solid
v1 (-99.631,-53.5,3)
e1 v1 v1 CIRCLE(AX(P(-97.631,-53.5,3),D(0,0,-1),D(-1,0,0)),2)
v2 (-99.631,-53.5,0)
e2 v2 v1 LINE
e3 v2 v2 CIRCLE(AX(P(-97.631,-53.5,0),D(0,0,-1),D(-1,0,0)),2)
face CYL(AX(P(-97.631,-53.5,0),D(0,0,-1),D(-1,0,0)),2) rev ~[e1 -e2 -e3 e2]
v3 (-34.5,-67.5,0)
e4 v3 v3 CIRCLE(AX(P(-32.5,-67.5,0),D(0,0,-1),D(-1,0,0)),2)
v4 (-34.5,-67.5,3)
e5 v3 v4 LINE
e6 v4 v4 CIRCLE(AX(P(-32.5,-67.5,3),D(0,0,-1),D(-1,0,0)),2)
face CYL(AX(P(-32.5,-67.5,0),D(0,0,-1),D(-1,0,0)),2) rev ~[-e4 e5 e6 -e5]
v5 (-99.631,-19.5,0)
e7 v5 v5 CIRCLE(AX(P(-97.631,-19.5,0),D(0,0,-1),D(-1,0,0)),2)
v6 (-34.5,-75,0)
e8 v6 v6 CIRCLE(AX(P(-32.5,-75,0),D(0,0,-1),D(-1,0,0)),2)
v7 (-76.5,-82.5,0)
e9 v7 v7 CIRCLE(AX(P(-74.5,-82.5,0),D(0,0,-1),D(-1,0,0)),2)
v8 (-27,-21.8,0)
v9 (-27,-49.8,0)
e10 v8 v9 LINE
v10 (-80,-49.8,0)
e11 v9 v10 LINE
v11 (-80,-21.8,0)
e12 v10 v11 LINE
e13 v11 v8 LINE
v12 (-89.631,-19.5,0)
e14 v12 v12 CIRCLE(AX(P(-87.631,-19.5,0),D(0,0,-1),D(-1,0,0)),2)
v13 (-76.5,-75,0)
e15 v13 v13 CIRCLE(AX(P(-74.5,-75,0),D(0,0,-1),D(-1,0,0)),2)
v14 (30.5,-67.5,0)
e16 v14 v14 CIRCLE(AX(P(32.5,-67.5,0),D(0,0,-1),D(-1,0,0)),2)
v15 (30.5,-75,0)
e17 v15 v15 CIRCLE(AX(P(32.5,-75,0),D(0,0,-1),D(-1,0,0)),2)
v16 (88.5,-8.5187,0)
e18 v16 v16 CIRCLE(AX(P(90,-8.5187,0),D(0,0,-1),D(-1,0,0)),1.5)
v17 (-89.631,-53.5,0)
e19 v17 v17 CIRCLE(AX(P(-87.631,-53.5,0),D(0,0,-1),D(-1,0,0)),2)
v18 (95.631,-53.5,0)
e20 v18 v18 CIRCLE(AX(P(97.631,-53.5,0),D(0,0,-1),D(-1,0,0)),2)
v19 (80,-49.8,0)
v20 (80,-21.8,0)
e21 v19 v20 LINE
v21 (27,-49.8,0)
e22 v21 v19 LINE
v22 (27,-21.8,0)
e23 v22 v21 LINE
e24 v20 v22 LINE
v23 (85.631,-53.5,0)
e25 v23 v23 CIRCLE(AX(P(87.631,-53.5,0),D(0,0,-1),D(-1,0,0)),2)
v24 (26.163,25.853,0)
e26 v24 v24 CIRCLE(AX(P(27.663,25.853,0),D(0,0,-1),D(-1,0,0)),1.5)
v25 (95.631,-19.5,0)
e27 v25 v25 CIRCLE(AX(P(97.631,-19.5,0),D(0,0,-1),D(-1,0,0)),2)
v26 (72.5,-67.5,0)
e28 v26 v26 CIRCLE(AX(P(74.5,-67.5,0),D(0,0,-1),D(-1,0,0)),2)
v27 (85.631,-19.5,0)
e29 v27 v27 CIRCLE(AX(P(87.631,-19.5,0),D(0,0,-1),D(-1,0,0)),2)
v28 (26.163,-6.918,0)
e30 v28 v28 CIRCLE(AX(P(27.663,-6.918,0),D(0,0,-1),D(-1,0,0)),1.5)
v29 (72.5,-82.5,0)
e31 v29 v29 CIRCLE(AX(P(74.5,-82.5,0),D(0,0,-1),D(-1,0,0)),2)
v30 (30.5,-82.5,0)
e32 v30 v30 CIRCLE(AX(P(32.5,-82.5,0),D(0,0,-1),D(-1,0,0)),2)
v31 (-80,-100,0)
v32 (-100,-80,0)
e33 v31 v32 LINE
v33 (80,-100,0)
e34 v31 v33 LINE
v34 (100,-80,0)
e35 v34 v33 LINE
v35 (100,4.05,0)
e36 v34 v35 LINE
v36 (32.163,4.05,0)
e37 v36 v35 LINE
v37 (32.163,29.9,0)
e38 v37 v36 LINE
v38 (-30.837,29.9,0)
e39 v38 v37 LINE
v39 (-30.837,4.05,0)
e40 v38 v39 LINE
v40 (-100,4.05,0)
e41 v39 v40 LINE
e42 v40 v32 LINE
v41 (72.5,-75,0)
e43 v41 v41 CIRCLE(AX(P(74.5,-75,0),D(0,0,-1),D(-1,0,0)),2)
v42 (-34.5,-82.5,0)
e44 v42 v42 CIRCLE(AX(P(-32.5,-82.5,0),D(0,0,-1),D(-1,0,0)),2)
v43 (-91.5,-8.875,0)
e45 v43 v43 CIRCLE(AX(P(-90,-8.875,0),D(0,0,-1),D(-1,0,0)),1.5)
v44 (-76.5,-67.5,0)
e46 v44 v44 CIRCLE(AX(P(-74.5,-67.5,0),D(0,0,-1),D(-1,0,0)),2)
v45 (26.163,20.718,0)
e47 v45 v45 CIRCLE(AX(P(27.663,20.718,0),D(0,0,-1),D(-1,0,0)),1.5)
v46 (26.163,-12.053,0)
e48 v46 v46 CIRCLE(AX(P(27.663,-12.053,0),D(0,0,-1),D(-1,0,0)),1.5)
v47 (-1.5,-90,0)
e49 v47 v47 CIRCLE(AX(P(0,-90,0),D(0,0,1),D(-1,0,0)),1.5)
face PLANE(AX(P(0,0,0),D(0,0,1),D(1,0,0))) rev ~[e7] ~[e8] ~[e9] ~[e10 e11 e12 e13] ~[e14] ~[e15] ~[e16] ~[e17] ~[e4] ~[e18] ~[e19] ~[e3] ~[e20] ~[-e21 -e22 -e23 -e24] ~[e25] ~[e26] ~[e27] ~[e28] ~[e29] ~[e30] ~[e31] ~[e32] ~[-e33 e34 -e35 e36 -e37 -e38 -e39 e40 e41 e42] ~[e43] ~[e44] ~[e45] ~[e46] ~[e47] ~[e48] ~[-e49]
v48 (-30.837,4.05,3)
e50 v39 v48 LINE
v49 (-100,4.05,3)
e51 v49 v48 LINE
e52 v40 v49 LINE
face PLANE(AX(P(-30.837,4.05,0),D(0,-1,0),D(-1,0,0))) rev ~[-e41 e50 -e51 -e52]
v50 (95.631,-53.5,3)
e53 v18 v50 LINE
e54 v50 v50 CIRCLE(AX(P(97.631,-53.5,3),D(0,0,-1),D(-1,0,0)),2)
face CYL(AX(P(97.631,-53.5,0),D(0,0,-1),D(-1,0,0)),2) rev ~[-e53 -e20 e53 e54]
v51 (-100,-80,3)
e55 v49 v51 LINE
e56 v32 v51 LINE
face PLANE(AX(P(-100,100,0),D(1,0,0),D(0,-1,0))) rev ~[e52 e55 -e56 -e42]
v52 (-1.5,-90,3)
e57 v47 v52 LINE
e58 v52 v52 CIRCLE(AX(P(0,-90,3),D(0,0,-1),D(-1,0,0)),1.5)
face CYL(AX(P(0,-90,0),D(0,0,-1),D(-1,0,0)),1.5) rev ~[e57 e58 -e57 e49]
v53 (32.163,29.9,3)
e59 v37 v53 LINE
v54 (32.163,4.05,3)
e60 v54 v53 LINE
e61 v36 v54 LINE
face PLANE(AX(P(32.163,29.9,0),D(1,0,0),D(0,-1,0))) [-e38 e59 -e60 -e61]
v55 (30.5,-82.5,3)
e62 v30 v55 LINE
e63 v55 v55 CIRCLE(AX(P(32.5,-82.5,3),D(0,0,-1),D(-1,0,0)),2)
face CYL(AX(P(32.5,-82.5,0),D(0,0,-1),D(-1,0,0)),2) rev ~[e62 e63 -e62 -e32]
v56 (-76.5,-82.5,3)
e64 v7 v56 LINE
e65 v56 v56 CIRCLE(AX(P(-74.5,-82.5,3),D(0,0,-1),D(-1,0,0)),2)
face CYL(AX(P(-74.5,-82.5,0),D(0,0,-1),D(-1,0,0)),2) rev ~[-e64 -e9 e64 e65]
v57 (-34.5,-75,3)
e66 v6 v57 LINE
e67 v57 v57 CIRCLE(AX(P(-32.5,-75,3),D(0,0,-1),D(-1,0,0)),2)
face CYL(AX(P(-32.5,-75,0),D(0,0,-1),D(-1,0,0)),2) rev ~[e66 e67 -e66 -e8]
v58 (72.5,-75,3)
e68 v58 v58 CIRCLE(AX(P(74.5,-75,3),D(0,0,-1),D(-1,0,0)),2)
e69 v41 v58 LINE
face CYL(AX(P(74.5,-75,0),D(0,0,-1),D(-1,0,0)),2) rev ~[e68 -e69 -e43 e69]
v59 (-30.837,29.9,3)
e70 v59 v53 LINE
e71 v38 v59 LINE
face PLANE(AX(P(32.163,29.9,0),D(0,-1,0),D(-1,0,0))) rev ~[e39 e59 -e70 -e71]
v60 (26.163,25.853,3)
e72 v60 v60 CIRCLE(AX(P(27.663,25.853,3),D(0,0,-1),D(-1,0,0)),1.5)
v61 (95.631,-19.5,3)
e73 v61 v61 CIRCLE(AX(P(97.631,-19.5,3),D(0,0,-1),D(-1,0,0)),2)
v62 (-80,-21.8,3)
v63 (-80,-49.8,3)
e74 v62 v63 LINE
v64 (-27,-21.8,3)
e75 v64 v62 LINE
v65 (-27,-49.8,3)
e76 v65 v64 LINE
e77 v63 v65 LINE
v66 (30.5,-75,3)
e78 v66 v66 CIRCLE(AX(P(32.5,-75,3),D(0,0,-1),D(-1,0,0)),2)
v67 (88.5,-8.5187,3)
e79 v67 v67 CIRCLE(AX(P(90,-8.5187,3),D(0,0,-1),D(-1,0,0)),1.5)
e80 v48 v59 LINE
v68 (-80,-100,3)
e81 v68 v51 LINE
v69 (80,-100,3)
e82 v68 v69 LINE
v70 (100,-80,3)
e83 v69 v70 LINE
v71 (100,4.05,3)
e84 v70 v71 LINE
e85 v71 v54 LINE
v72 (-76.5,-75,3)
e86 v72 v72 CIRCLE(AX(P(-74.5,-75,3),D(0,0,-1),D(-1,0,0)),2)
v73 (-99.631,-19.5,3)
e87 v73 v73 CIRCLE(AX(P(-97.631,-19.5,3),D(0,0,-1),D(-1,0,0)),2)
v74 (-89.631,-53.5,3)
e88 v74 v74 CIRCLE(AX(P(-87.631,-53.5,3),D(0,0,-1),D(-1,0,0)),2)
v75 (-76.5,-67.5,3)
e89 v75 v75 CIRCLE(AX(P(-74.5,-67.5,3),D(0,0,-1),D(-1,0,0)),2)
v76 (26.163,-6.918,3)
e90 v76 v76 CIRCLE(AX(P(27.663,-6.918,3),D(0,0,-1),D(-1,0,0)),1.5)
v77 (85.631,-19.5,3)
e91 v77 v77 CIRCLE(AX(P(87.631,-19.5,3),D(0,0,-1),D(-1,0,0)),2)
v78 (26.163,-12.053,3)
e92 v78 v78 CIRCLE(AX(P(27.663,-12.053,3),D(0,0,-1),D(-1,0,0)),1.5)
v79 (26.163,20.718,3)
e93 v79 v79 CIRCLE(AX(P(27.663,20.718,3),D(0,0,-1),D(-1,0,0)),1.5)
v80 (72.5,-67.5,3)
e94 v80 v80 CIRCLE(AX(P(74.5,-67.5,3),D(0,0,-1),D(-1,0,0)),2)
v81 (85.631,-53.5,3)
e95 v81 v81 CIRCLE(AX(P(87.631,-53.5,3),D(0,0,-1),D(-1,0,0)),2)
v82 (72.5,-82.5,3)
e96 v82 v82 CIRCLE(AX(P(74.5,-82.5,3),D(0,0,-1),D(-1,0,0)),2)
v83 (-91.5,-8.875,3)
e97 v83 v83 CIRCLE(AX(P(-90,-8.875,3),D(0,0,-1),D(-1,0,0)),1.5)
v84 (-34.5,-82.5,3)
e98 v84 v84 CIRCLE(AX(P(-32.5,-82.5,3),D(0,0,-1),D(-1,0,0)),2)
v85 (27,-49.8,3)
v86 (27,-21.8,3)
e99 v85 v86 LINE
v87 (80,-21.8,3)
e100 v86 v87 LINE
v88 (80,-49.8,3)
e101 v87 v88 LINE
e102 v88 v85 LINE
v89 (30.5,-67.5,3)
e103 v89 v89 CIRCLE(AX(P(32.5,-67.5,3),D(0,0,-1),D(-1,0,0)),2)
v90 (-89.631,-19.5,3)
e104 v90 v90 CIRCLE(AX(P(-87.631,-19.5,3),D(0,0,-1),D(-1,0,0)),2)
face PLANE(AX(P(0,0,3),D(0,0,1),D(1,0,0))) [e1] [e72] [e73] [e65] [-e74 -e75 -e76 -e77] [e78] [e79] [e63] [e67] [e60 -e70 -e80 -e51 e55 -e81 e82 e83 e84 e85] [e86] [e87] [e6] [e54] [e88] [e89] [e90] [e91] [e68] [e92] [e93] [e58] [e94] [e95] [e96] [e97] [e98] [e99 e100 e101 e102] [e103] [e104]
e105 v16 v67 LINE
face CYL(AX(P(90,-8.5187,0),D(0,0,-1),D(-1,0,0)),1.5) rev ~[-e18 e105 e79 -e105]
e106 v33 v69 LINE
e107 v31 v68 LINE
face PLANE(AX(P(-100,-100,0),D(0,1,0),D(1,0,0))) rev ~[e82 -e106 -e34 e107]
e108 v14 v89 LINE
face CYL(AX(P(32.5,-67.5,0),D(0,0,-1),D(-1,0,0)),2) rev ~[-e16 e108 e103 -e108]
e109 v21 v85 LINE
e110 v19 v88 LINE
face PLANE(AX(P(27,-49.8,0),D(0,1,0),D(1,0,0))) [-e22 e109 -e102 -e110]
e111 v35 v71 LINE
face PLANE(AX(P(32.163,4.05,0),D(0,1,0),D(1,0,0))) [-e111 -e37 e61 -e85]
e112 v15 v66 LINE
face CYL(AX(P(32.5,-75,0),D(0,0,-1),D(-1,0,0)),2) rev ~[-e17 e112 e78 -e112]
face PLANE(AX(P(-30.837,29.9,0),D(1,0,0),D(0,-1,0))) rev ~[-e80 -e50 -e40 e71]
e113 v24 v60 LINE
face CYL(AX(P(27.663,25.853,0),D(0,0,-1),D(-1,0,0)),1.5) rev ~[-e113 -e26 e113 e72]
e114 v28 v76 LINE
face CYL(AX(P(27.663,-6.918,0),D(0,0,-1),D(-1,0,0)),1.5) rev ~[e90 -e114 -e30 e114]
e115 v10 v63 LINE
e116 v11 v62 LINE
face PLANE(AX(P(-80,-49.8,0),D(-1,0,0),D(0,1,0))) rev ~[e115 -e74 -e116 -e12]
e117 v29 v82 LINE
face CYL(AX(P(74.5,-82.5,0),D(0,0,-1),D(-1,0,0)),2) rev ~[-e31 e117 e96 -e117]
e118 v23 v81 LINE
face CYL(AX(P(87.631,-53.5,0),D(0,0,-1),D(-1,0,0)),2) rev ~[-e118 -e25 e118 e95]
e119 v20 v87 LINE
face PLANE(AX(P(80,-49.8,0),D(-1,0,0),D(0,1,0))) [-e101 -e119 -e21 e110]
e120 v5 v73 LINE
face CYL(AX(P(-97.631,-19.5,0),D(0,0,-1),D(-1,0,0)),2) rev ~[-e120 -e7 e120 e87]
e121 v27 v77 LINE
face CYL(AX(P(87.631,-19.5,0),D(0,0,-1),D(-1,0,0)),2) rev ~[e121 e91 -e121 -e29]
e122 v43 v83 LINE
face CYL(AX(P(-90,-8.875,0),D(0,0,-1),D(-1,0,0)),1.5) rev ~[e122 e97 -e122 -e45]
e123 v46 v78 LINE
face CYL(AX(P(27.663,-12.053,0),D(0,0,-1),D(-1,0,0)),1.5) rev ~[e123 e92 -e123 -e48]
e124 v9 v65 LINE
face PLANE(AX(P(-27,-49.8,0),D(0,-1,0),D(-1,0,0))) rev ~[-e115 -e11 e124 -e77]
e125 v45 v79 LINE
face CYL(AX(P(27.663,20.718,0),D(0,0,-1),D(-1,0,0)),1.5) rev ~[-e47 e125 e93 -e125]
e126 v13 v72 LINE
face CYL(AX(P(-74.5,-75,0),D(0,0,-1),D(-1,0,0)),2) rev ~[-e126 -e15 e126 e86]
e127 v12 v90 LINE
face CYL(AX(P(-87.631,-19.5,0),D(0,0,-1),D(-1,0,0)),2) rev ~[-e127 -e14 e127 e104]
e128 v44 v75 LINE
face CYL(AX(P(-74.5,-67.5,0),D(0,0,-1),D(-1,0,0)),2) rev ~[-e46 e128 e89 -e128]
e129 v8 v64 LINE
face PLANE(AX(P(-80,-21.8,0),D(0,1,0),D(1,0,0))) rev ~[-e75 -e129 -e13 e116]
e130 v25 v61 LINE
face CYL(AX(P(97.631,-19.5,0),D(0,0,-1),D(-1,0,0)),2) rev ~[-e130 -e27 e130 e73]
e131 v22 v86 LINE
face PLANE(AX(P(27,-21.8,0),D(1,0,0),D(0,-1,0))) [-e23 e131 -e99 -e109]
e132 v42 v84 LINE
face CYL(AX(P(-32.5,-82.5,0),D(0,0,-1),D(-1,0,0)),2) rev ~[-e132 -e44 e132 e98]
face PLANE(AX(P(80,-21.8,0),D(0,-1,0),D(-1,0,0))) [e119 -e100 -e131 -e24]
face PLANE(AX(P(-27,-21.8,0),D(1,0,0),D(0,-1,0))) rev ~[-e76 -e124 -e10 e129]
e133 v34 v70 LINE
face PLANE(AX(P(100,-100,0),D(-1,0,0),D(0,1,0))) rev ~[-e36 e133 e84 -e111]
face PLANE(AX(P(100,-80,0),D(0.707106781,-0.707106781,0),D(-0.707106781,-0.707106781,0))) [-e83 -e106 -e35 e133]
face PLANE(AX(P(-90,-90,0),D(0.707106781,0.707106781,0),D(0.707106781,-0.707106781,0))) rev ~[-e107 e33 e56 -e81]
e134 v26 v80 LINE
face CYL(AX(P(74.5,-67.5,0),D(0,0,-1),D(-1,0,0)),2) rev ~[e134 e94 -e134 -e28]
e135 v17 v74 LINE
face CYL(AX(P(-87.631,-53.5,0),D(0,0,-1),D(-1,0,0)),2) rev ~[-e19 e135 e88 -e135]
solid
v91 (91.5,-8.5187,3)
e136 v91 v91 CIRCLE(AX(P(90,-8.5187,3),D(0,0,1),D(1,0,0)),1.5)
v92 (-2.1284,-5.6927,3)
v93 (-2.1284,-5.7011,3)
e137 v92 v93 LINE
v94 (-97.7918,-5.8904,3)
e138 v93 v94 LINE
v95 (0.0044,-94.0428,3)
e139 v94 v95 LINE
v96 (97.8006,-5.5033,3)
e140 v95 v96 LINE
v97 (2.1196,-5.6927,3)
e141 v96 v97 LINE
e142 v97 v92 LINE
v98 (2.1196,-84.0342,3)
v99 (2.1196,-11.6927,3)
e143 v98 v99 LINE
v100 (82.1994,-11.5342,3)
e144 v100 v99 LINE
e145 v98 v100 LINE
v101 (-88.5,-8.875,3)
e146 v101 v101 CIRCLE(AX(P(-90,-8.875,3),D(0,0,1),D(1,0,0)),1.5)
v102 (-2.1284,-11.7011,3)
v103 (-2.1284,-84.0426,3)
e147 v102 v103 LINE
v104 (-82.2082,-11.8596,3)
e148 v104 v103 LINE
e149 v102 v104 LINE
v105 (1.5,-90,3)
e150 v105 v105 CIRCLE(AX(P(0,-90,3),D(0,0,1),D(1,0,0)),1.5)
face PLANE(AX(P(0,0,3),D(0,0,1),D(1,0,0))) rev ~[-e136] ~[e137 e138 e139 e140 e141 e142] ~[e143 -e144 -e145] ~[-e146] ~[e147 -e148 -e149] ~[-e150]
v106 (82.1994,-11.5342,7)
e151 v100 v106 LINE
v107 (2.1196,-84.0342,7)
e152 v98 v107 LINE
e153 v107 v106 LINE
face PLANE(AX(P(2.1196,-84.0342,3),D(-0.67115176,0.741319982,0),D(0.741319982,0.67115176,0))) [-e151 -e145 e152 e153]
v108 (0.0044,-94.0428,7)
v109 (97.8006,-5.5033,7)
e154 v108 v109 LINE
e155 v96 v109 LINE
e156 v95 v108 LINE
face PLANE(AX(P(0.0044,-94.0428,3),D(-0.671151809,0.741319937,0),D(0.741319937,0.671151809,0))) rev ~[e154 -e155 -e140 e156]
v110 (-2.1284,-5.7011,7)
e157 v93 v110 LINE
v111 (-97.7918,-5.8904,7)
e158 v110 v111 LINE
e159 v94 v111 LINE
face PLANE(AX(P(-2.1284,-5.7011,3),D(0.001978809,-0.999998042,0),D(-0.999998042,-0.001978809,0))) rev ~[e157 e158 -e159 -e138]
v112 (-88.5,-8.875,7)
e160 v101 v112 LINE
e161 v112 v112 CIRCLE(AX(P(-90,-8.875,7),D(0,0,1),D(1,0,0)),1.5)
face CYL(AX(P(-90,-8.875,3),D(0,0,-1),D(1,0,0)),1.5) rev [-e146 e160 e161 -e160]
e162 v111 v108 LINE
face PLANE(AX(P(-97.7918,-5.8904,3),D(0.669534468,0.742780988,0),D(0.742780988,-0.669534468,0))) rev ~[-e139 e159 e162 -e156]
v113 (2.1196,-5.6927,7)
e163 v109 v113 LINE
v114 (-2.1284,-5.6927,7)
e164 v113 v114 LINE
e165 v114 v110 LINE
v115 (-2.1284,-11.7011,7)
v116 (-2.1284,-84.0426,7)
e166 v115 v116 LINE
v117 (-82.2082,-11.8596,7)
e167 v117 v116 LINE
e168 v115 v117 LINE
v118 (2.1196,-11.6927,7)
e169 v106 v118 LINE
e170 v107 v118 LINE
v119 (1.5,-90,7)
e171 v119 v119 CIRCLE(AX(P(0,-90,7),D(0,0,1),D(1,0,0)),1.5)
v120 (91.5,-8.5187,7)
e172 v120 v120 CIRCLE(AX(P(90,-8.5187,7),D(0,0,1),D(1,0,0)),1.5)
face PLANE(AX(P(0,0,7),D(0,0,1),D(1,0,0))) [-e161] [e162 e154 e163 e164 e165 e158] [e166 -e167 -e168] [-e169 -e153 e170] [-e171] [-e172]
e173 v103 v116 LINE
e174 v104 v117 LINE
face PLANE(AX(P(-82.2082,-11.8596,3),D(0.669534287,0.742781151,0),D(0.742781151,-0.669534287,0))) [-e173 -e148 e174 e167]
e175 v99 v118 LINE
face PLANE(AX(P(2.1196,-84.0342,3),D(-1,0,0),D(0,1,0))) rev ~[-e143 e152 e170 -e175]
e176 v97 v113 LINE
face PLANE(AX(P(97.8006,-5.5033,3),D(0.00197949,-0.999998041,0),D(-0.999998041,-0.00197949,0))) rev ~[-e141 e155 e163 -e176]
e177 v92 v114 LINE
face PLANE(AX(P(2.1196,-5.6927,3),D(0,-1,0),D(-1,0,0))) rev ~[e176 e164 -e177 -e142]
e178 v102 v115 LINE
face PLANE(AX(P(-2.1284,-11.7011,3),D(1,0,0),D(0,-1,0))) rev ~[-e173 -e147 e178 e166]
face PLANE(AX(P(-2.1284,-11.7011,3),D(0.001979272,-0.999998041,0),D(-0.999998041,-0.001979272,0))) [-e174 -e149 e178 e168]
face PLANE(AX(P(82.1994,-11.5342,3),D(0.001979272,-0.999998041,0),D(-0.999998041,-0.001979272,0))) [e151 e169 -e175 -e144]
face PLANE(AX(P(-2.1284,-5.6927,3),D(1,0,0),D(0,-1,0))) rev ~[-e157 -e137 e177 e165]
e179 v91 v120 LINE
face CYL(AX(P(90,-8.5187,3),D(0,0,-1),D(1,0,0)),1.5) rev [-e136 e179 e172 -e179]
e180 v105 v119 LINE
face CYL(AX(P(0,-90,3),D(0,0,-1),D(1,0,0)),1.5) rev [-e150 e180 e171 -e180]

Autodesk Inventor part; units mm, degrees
ref_plane "YZ Plane" through (0, 0, 0) normal (1, 0, 0) x (0, 1, 0)
ref_plane "XZ Plane" through (0, 0, 0) normal (0, 1, 0) x (-1, 0, 0)
ref_plane "XY Plane" through (0, 0, 0) normal (0, 0, 1) x (1, 0, 0)
sketch "Эскиз1" plane through (0, 0, 0) normal (0, 0, 1) x (1, 0, 0)
  line L0 (-100, -100) -> (100, -100)
  line L1 (100, -100) -> (100, 100)
  line L2 (100, 100) -> (-100, 100)
  line L3 (-100, 100) -> (-100, -100)
  line L4 (-100, -100) -> (100, 100) construction
  line L5 (100, -100) -> (-100, 100) construction
  point P0 (0, 0)
  dimension "d0" = 200
  dimension "d1" = 200
extrude "Выдавливание1" add sketch "Эскиз1" along normal blind 3
sketch "Эскиз2" plane through (0, 0, 3) normal (0, 0, 1) x (1, 0, 0)
  line L0 (-100, -100) -> (100, -100) projected
  line L1 (100, -100) -> (100, 100) projected
  line L2 (100, 100) -> (-100, 100) projected
  line L3 (-100, 100) -> (-100, -100) projected
  line L4 (-100, 100) -> (-90, 100) construction
  line L5 (-100, -100) -> (100, -100) construction
  line L6 (100, -100) -> (90, -100) construction
  line L7 (-90, 100) -> (-90, 90) construction
  line L8 (100, 100) -> (-100, 100) construction
  line L9 (-90, 100) -> (-80, 100) construction
  line L10 (90, -100) -> (90, -90) construction
  line L11 (-90, 90) -> (90, 90) construction
  line L12 (90, 90) -> (90, -90) construction
  line L13 (90, -90) -> (-90, -90) construction
  line L14 (-90, -90) -> (-90, 90) construction
  point P0 (0, 0)
  dimension "d4" = 10
  dimension "d5" = 10
  dimension "d6" = 10
  dimension "d7" = 270
  dimension "d8" = 10
sketch "Эскиз3" plane through (0, 0, 0) normal (0, 0, -1) x (-1, 0, 0)
  line L0 (-90, -90) -> (90, -90) construction
  line L1 (90, -90) -> (90, 90) construction
  line L2 (90, 90) -> (-90, 90) construction
  line L3 (100, -100) -> (-100, -100) projected
  line L4 (-100, -100) -> (-100, 100) projected
  line L5 (-100, 100) -> (100, 100) projected
  line L6 (100, 100) -> (100, -100) projected
  line L7 (-90, 90) -> (-90, -90) construction
  point P0 (0, 0)
sketch "Эскиз4" plane through (0, 0, 0) normal (0, 0, -1) x (-1, 0, 0)
  line L0 (90, -90) -> (90, 90) construction
  line L1 (-90, -90) -> (90, -90) construction
  line L2 (90, -90) -> (80, -90) construction
  line L3 (80, -90) -> (80, -57.8) construction
  line L4 (80, -57.8) -> (69, -57.8) construction
  line L5 (69, -57.8) -> (69, -90) construction
  line L6 (74.5, -90) -> (74.5, -58.2367) construction
  line L7 (80, -73.9) -> (69, -73.9) construction
  line L8 (74.5, -90) -> (74.5, -82.5) construction
  circle A0 centre (74.5, -82.5) radius 2
  line L9 (74.5, -82.5) -> (74.5, -75) construction
  line L10 (74.5, -75) -> (74.5, -67.5) construction
  circle A1 centre (74.5, -75) radius 2
  circle A2 centre (74.5, -67.5) radius 2
  line L11 (69, -90) -> (38, -90) construction
  line L12 (53.5, -90) -> (53.5, -69.5) construction
  line L13 (27, -90) -> (27, -57.8) construction
  line L14 (27, -57.8) -> (38, -57.8) construction
  line L15 (38, -57.8) -> (38, -90) construction
  line L16 (32.5, -90) -> (32.5, -58.2367) construction
  line L17 (27, -73.9) -> (38, -73.9) construction
  line L18 (32.5, -90) -> (32.5, -82.5) construction
  circle A3 centre (32.5, -82.5) radius 2
  line L19 (32.5, -82.5) -> (32.5, -75) construction
  line L20 (32.5, -75) -> (32.5, -67.5) construction
  circle A4 centre (32.5, -75) radius 2
  circle A5 centre (32.5, -67.5) radius 2
  line L21 (0, 90) -> (0, -90)
  line L22 (-80, -90) -> (-80, -57.8) construction
  line L23 (-80, -57.8) -> (-69, -57.8) construction
  line L24 (-69, -57.8) -> (-69, -90) construction
  line L25 (-74.5, -90) -> (-74.5, -58.2367) construction
  line L26 (-80, -73.9) -> (-69, -73.9) construction
  line L27 (-74.5, -90) -> (-74.5, -82.5) construction
  circle A6 centre (-74.5, -82.5) radius 2
  line L28 (-74.5, -82.5) -> (-74.5, -75) construction
  line L29 (-74.5, -75) -> (-74.5, -67.5) construction
  circle A7 centre (-74.5, -75) radius 2
  circle A8 centre (-74.5, -67.5) radius 2
  line L30 (-69, -90) -> (-38, -90) construction
  line L31 (-53.5, -90) -> (-53.5, -69.5) construction
  line L32 (-27, -90) -> (-27, -57.8) construction
  line L33 (-38, -57.8) -> (-38, -90) construction
  line L34 (-27, -73.9) -> (-38, -73.9) construction
  line L35 (-27, -57.8) -> (-38, -57.8) construction
  line L36 (-32.5, -90) -> (-32.5, -58.2367) construction
  line L37 (-32.5, -90) -> (-32.5, -82.5) construction
  circle A9 centre (-32.5, -82.5) radius 2
  line L38 (-32.5, -82.5) -> (-32.5, -75) construction
  circle A10 centre (-32.5, -75) radius 2
  line L39 (-32.5, -75) -> (-32.5, -67.5) construction
  circle A11 centre (-32.5, -67.5) radius 2
  line L40 (27, -57.8) -> (80, -57.8) construction
  line L41 (80, -57.8) -> (80, -29.8) construction
  line L42 (80, -29.8) -> (27, -29.8) construction
  line L43 (27, -29.8) -> (27, -57.8) construction
  line L44 (-80, -57.8) -> (-69, -57.8) construction
  line L45 (-27, -57.8) -> (-38, -57.8) construction
  line L46 (-27, -57.8) -> (-80, -57.8) construction
  line L47 (-80, -57.8) -> (-80, -29.8) construction
  line L48 (-80, -29.8) -> (-27, -29.8) construction
  line L49 (-27, -29.8) -> (-27, -57.8) construction
  line L50 (80, -57.8) -> (27, -57.8) construction
  line L51 (27, -57.8) -> (27, -49.8) construction
  line L52 (27, -49.8) -> (80, -49.8) construction
  line L53 (80, -49.8) -> (80, -57.8) construction
  line L54 (-27, -57.8) -> (-80, -57.8) construction
  line L55 (-80, -57.8) -> (-80, -49.8) construction
  line L56 (-80, -49.8) -> (-27, -49.8) construction
  line L57 (-27, -49.8) -> (-27, -57.8) construction
  line L58 (27, -49.8) -> (80, -49.8)
  line L59 (80, -49.8) -> (80, -21.8)
  line L60 (80, -21.8) -> (27, -21.8)
  line L61 (27, -21.8) -> (27, -49.8)
  line L62 (-27, -49.8) -> (-80, -49.8)
  line L63 (-80, -49.8) -> (-80, -21.8)
  line L64 (-80, -21.8) -> (-27, -21.8)
  line L65 (-27, -21.8) -> (-27, -49.8)
  line L66 (100, -100) -> (-100, -100) construction
  line L67 (100, 100) -> (100, -100) construction
  line L68 (-100, 100) -> (100, 100) construction
  line L69 (-100, -100) -> (-100, 100) construction
  line L70 (-100, -100) -> (-100, 100) construction
  line L71 (-100, -10.3933) -> (-30.663, -10.3933) construction
  line L72 (100, -100) -> (-100, -100) construction
  line L73 (-16.2396, -100) -> (-16.2396, -14.621) construction
  line L74 (-100, 100) -> (100, 100) construction
  line L75 (-16.2396, 100) -> (-16.2396, -4.35) construction
  line L76 (-16.2396, 100) -> (88.1104, 100) construction
  line L77 (-30.663, -4.35) -> (-30.663, -14.621)
  line L78 (-30.663, -9.4855) -> (-27.663, -9.4855) construction
  line L79 (-27.663, -4.35) -> (-27.663, -14.621) construction
  line L80 (-30.663, -14.621) -> (-16.2396, -14.621) construction
  line L81 (-30.663, -4.35) -> (-16.2396, -4.35) construction
  line L82 (-16.2396, -14.621) -> (-16.2396, -4.35) construction
  line L83 (-27.663, -14.621) -> (-27.663, -12.053) construction
  circle A12 centre (-27.663, -12.053) radius 1.5
  line L84 (-27.663, -12.053) -> (-27.663, -6.918) construction
  circle A13 centre (-27.663, -6.918) radius 1.5
  line L85 (-30.663, -10.3933) -> (-53.163, -10.3933) construction
  line L86 (-30.663, -4.35) -> (-30.663, 18.15) construction
  line L87 (-30.663, 6.9) -> (-19.0358, 6.9) construction
  line L88 (-30.663, 18.15) -> (-30.663, 28.421)
  line L89 (-30.663, 23.2855) -> (-27.663, 23.2855) construction
  line L90 (-27.663, 18.15) -> (-27.663, 28.421) construction
  line L91 (-27.663, 28.421) -> (-27.663, 25.853) construction
  circle A14 centre (-27.663, 25.853) radius 1.5
  line L92 (-27.663, 25.853) -> (-27.663, 20.718) construction
  circle A15 centre (-27.663, 20.718) radius 1.5
  line L93 (-30.663, 28.421) -> (29.337, 28.421) construction
  line L94 (29.337, 28.421) -> (29.337, -14.621) construction
  line L95 (29.337, -14.621) -> (-30.663, -14.621) construction
  line L96 (-30.663, -14.621) -> (-30.663, 28.421) construction
  line L97 (-30.663, 28.421) -> (29.337, -14.621) construction
  line L98 (29.337, 28.421) -> (-30.663, -14.621) construction
  line L99 (-32.163, -16.1) -> (30.837, -16.1) construction
  line L100 (30.837, -16.1) -> (30.837, 29.9) construction
  line L101 (30.837, 29.9) -> (-32.163, 29.9) construction
  line L102 (-32.163, 29.9) -> (-32.163, -16.1) construction
  line L103 (-32.163, -16.1) -> (30.837, 29.9) construction
  line L104 (30.837, -16.1) -> (-32.163, 29.9) construction
  line L105 (-100, -21.8) -> (100, -21.8) construction
  line L106 (100, -21.8) -> (100, 29.9) construction
  line L107 (100, 29.9) -> (-100, 29.9) construction
  line L108 (-100, 29.9) -> (-100, -21.8) construction
  line L109 (100, 100) -> (100, -100) construction
  line L110 (100, 4.05) -> (-100, 4.05) construction
  line L111 (-90, -90) -> (-90, 47.825) construction
  line L112 (90, -21.8) -> (90, 4.05) construction
  line L113 (-90, -21.0875) -> (-90, 4.05) construction
  line L114 (-90, -8.5187) -> (90, -8.875) construction
  circle A16 centre (-90, -8.5187) radius 1.5
  circle A17 centre (90, -8.875) radius 1.5
  circle A18 centre (0, -90) radius 1.5
  line L115 (100, 4.05) -> (30.837, 4.05) construction
  line L116 (30.837, 4.05) -> (30.837, 100) construction
  line L117 (30.837, 100) -> (100, 100) construction
  line L118 (100, 100) -> (100, 4.05) construction
  line L119 (30.837, 4.05) -> (100, 4.05)
  line L120 (100, 4.05) -> (100, 100)
  line L121 (100, 100) -> (30.837, 100)
  line L122 (30.837, 100) -> (30.837, 4.05)
  line L123 (30.837, 100) -> (-100, 100)
  line L124 (-100, 100) -> (-100, 29.9)
  line L125 (-100, 29.9) -> (30.837, 29.9)
  line L126 (30.837, 29.9) -> (30.837, 100)
  line L127 (-100, 29.9) -> (-32.163, 29.9)
  line L128 (-32.163, 29.9) -> (-32.163, 4.05)
  line L129 (-32.163, 4.05) -> (-100, 4.05)
  line L130 (-100, 4.05) -> (-100, 29.9)
  line L131 (0, -8.6969) -> (-5, -8.6969) construction
  line L132 (0, -8.6969) -> (5, -8.6969) construction
  line L133 (90, -90) -> (100, -80)
  line L134 (90, -90) -> (104.1421, -90) construction
  line L135 (100, -80) -> (80, -100)
  line L136 (100, -100) -> (-100, -100) projected
  line L137 (80, -100) -> (100, -100)
  line L138 (100, -100) -> (100, -80)
  line L139 (-100, -100) -> (100, -100) construction
  line L140 (-100, -100) -> (100, -100) construction
  line L141 (-100, -80) -> (-80, -100)
  line L142 (-100, -100) -> (100, -100)
  line L143 (-100, -100) -> (-100, -80)
  line L144 (100, 100) -> (100, -100) projected
  line L145 (100, -21.8) -> (87.631, -21.8) construction
  line L146 (87.631, 4.05) -> (87.631, -19.5) construction
  line L147 (87.631, -21.8) -> (87.631, -18.7327) construction
  circle A19 centre (87.631, -19.5) radius 2
  line L148 (87.631, -19.5) -> (97.631, -19.5) construction
  circle A20 centre (97.631, -19.5) radius 2
  line L149 (87.631, -19.5) -> (87.631, -53.5) construction
  line L150 (87.631, -36.5) -> (80, -36.5) construction
  circle A21 centre (87.631, -53.5) radius 2
  line L151 (87.631, -53.5) -> (97.631, -53.5) construction
  circle A22 centre (97.631, -53.5) radius 2
  circle A23 centre (-87.631, -19.5) radius 2
  line L152 (-87.631, -19.5) -> (-97.631, -19.5) construction
  circle A24 centre (-97.631, -19.5) radius 2
  circle A25 centre (-87.631, -53.5) radius 2
  line L153 (-87.631, -53.5) -> (-97.631, -53.5) construction
  circle A26 centre (-97.631, -53.5) radius 2
  point P0 (0, 0)
  point P1 (-30.663, 24.1933)
  point P2 (-0.663, 6.9)
  dimension "d9" = 10
  dimension "d10" = 32.2
  dimension "d11" = 11
  dimension "d12" = 7.5
  dimension "d13" = 4
  dimension "d14" = 7.5
  dimension "d15" = 7.5
  dimension "d16" = 4
  dimension "d17" = 4
  dimension "d18" = 31
  dimension "d23" = 28
  dimension "d24" = 8
  dimension "d25" = 8
  dimension "d26" = 28
  dimension "d27" = 28
  dimension "d31" = 69.337
  dimension "d32" = 85.379
  dimension "d33" = 104.35
  dimension "d34" = 90
  dimension "d35" = 3
  dimension "d36" = 2.568
  dimension "d37" = 3
  dimension "d38" = 5.135
  dimension "d39" = 3
  dimension "d40" = 22.5
  dimension "d41" = 22.5
  dimension "d44" = 60
  dimension "d45" = 63
  dimension "d46" = 46
  dimension "d47" = 3
  dimension "d48" = 3
  dimension "d49" = 3
  dimension "d54" = 5
  dimension "d55" = 180
  dimension "d59" = 45
  dimension "d62" = 12.369
  dimension "d63" = 23.55
  dimension "d64" = 4
  dimension "d65" = 10
  dimension "d66" = 4
  dimension "d67" = 34
extrude "Выдавливание2" cut sketch "Эскиз4" against normal blind 10 contours A0 | A1 | A2 | A3 | A4 | A5
extrude "Выдавливание3" cut sketch "Эскиз4" against normal blind 10 contours A6 | A7 | A8 | A9 | A10 | A11
extrude "Выдавливание4" cut sketch "Эскиз4" against normal blind 10 contours L61 L60 L59 L58 | L62 L63 L64 L65
extrude "Выдавливание5" cut sketch "Эскиз4" against normal blind 10 contours A12 | A13 | A14 | A15
extrude "Выдавливание6" cut sketch "Эскиз4" against normal blind 10 contours A18 | A16 | A17
extrude "Выдавливание7" cut sketch "Эскиз4" against normal blind 10 contours L125 L124 L123 L122 | L128 L129 L130 L125 | L122 L121 L120 L119
extrude "Выдавливание9" cut sketch "Эскиз4" against normal blind 10 contours L136 L143 L141 | L138 L136 L135 L133
extrude "Выдавливание10" cut sketch "Эскиз4" against normal blind 10 contours A19 | A20 | A21 | A22 | A23 | A24 | A25 | A26
sketch "Эскиз5" plane through (0, 0, 3) normal (0, 0, 1) x (1, 0, 0)
  circle A0 centre (-90, -8.875) radius 1.5 projected
  circle A1 centre (90, -8.5187) radius 1.5 projected
  circle A2 centre (0, -90) radius 1.5 projected
  line L0 (-90, -8.875) -> (90, -8.5187) construction
  circle A3 centre (0, -90) radius 1.5 construction
  line L1 (90, -8.5187) -> (0, -90) construction
  line L2 (0, -90) -> (-90, -8.875) construction
  line L3 (-82.2082, -11.8596) -> (-2.1284, -84.0426)
  line L4 (2.1196, -84.0342) -> (82.1994, -11.5342)
  line L5 (-97.7918, -5.8904) -> (0.0044, -94.0428)
  line L6 (0.0044, -94.0428) -> (97.8006, -5.5033)
  line L7 (-0.0044, -11.6969) -> (-0.0044, -85.9572) construction
  line L8 (2.1196, -5.6927) -> (-2.1284, -5.6927)
  line L9 (2.1196, -84.0342) -> (2.1196, -11.6927)
  line L10 (1.7459, -84.3725) -> (-1.8325, -11.7005) construction
  line L11 (-2.128, -5.7011) -> (-2.1284, -5.6927) construction
  line L12 (-2.1284, -5.6927) -> (-2.1284, -5.7011)
  line L13 (97.8006, -5.5033) -> (2.1196, -5.6927)
  line L14 (-2.128, -5.7011) -> (-97.7918, -5.8904)
  line L15 (-2.1284, -11.7011) -> (-2.1284, -84.0426)
  line L16 (-2.1284, -91.9269) -> (-2.1284, -91.9614)
  line L17 (-2.1284, -91.9614) -> (-2.1266, -91.9253) construction
  line L18 (-1.755, -84.3792) -> (1.8241, -11.6933) construction
  line L19 (82.1994, -11.5342) -> (2.1196, -11.6927)
  line L20 (-2.1284, -11.7011) -> (-82.2082, -11.8596)
  point P0 (0, 0)
  point P1 (-0.0044, -48.827)
extrude "Выдавливание11" add sketch "Эскиз5" along normal blind 4 separate body
properties part number "Down base"
